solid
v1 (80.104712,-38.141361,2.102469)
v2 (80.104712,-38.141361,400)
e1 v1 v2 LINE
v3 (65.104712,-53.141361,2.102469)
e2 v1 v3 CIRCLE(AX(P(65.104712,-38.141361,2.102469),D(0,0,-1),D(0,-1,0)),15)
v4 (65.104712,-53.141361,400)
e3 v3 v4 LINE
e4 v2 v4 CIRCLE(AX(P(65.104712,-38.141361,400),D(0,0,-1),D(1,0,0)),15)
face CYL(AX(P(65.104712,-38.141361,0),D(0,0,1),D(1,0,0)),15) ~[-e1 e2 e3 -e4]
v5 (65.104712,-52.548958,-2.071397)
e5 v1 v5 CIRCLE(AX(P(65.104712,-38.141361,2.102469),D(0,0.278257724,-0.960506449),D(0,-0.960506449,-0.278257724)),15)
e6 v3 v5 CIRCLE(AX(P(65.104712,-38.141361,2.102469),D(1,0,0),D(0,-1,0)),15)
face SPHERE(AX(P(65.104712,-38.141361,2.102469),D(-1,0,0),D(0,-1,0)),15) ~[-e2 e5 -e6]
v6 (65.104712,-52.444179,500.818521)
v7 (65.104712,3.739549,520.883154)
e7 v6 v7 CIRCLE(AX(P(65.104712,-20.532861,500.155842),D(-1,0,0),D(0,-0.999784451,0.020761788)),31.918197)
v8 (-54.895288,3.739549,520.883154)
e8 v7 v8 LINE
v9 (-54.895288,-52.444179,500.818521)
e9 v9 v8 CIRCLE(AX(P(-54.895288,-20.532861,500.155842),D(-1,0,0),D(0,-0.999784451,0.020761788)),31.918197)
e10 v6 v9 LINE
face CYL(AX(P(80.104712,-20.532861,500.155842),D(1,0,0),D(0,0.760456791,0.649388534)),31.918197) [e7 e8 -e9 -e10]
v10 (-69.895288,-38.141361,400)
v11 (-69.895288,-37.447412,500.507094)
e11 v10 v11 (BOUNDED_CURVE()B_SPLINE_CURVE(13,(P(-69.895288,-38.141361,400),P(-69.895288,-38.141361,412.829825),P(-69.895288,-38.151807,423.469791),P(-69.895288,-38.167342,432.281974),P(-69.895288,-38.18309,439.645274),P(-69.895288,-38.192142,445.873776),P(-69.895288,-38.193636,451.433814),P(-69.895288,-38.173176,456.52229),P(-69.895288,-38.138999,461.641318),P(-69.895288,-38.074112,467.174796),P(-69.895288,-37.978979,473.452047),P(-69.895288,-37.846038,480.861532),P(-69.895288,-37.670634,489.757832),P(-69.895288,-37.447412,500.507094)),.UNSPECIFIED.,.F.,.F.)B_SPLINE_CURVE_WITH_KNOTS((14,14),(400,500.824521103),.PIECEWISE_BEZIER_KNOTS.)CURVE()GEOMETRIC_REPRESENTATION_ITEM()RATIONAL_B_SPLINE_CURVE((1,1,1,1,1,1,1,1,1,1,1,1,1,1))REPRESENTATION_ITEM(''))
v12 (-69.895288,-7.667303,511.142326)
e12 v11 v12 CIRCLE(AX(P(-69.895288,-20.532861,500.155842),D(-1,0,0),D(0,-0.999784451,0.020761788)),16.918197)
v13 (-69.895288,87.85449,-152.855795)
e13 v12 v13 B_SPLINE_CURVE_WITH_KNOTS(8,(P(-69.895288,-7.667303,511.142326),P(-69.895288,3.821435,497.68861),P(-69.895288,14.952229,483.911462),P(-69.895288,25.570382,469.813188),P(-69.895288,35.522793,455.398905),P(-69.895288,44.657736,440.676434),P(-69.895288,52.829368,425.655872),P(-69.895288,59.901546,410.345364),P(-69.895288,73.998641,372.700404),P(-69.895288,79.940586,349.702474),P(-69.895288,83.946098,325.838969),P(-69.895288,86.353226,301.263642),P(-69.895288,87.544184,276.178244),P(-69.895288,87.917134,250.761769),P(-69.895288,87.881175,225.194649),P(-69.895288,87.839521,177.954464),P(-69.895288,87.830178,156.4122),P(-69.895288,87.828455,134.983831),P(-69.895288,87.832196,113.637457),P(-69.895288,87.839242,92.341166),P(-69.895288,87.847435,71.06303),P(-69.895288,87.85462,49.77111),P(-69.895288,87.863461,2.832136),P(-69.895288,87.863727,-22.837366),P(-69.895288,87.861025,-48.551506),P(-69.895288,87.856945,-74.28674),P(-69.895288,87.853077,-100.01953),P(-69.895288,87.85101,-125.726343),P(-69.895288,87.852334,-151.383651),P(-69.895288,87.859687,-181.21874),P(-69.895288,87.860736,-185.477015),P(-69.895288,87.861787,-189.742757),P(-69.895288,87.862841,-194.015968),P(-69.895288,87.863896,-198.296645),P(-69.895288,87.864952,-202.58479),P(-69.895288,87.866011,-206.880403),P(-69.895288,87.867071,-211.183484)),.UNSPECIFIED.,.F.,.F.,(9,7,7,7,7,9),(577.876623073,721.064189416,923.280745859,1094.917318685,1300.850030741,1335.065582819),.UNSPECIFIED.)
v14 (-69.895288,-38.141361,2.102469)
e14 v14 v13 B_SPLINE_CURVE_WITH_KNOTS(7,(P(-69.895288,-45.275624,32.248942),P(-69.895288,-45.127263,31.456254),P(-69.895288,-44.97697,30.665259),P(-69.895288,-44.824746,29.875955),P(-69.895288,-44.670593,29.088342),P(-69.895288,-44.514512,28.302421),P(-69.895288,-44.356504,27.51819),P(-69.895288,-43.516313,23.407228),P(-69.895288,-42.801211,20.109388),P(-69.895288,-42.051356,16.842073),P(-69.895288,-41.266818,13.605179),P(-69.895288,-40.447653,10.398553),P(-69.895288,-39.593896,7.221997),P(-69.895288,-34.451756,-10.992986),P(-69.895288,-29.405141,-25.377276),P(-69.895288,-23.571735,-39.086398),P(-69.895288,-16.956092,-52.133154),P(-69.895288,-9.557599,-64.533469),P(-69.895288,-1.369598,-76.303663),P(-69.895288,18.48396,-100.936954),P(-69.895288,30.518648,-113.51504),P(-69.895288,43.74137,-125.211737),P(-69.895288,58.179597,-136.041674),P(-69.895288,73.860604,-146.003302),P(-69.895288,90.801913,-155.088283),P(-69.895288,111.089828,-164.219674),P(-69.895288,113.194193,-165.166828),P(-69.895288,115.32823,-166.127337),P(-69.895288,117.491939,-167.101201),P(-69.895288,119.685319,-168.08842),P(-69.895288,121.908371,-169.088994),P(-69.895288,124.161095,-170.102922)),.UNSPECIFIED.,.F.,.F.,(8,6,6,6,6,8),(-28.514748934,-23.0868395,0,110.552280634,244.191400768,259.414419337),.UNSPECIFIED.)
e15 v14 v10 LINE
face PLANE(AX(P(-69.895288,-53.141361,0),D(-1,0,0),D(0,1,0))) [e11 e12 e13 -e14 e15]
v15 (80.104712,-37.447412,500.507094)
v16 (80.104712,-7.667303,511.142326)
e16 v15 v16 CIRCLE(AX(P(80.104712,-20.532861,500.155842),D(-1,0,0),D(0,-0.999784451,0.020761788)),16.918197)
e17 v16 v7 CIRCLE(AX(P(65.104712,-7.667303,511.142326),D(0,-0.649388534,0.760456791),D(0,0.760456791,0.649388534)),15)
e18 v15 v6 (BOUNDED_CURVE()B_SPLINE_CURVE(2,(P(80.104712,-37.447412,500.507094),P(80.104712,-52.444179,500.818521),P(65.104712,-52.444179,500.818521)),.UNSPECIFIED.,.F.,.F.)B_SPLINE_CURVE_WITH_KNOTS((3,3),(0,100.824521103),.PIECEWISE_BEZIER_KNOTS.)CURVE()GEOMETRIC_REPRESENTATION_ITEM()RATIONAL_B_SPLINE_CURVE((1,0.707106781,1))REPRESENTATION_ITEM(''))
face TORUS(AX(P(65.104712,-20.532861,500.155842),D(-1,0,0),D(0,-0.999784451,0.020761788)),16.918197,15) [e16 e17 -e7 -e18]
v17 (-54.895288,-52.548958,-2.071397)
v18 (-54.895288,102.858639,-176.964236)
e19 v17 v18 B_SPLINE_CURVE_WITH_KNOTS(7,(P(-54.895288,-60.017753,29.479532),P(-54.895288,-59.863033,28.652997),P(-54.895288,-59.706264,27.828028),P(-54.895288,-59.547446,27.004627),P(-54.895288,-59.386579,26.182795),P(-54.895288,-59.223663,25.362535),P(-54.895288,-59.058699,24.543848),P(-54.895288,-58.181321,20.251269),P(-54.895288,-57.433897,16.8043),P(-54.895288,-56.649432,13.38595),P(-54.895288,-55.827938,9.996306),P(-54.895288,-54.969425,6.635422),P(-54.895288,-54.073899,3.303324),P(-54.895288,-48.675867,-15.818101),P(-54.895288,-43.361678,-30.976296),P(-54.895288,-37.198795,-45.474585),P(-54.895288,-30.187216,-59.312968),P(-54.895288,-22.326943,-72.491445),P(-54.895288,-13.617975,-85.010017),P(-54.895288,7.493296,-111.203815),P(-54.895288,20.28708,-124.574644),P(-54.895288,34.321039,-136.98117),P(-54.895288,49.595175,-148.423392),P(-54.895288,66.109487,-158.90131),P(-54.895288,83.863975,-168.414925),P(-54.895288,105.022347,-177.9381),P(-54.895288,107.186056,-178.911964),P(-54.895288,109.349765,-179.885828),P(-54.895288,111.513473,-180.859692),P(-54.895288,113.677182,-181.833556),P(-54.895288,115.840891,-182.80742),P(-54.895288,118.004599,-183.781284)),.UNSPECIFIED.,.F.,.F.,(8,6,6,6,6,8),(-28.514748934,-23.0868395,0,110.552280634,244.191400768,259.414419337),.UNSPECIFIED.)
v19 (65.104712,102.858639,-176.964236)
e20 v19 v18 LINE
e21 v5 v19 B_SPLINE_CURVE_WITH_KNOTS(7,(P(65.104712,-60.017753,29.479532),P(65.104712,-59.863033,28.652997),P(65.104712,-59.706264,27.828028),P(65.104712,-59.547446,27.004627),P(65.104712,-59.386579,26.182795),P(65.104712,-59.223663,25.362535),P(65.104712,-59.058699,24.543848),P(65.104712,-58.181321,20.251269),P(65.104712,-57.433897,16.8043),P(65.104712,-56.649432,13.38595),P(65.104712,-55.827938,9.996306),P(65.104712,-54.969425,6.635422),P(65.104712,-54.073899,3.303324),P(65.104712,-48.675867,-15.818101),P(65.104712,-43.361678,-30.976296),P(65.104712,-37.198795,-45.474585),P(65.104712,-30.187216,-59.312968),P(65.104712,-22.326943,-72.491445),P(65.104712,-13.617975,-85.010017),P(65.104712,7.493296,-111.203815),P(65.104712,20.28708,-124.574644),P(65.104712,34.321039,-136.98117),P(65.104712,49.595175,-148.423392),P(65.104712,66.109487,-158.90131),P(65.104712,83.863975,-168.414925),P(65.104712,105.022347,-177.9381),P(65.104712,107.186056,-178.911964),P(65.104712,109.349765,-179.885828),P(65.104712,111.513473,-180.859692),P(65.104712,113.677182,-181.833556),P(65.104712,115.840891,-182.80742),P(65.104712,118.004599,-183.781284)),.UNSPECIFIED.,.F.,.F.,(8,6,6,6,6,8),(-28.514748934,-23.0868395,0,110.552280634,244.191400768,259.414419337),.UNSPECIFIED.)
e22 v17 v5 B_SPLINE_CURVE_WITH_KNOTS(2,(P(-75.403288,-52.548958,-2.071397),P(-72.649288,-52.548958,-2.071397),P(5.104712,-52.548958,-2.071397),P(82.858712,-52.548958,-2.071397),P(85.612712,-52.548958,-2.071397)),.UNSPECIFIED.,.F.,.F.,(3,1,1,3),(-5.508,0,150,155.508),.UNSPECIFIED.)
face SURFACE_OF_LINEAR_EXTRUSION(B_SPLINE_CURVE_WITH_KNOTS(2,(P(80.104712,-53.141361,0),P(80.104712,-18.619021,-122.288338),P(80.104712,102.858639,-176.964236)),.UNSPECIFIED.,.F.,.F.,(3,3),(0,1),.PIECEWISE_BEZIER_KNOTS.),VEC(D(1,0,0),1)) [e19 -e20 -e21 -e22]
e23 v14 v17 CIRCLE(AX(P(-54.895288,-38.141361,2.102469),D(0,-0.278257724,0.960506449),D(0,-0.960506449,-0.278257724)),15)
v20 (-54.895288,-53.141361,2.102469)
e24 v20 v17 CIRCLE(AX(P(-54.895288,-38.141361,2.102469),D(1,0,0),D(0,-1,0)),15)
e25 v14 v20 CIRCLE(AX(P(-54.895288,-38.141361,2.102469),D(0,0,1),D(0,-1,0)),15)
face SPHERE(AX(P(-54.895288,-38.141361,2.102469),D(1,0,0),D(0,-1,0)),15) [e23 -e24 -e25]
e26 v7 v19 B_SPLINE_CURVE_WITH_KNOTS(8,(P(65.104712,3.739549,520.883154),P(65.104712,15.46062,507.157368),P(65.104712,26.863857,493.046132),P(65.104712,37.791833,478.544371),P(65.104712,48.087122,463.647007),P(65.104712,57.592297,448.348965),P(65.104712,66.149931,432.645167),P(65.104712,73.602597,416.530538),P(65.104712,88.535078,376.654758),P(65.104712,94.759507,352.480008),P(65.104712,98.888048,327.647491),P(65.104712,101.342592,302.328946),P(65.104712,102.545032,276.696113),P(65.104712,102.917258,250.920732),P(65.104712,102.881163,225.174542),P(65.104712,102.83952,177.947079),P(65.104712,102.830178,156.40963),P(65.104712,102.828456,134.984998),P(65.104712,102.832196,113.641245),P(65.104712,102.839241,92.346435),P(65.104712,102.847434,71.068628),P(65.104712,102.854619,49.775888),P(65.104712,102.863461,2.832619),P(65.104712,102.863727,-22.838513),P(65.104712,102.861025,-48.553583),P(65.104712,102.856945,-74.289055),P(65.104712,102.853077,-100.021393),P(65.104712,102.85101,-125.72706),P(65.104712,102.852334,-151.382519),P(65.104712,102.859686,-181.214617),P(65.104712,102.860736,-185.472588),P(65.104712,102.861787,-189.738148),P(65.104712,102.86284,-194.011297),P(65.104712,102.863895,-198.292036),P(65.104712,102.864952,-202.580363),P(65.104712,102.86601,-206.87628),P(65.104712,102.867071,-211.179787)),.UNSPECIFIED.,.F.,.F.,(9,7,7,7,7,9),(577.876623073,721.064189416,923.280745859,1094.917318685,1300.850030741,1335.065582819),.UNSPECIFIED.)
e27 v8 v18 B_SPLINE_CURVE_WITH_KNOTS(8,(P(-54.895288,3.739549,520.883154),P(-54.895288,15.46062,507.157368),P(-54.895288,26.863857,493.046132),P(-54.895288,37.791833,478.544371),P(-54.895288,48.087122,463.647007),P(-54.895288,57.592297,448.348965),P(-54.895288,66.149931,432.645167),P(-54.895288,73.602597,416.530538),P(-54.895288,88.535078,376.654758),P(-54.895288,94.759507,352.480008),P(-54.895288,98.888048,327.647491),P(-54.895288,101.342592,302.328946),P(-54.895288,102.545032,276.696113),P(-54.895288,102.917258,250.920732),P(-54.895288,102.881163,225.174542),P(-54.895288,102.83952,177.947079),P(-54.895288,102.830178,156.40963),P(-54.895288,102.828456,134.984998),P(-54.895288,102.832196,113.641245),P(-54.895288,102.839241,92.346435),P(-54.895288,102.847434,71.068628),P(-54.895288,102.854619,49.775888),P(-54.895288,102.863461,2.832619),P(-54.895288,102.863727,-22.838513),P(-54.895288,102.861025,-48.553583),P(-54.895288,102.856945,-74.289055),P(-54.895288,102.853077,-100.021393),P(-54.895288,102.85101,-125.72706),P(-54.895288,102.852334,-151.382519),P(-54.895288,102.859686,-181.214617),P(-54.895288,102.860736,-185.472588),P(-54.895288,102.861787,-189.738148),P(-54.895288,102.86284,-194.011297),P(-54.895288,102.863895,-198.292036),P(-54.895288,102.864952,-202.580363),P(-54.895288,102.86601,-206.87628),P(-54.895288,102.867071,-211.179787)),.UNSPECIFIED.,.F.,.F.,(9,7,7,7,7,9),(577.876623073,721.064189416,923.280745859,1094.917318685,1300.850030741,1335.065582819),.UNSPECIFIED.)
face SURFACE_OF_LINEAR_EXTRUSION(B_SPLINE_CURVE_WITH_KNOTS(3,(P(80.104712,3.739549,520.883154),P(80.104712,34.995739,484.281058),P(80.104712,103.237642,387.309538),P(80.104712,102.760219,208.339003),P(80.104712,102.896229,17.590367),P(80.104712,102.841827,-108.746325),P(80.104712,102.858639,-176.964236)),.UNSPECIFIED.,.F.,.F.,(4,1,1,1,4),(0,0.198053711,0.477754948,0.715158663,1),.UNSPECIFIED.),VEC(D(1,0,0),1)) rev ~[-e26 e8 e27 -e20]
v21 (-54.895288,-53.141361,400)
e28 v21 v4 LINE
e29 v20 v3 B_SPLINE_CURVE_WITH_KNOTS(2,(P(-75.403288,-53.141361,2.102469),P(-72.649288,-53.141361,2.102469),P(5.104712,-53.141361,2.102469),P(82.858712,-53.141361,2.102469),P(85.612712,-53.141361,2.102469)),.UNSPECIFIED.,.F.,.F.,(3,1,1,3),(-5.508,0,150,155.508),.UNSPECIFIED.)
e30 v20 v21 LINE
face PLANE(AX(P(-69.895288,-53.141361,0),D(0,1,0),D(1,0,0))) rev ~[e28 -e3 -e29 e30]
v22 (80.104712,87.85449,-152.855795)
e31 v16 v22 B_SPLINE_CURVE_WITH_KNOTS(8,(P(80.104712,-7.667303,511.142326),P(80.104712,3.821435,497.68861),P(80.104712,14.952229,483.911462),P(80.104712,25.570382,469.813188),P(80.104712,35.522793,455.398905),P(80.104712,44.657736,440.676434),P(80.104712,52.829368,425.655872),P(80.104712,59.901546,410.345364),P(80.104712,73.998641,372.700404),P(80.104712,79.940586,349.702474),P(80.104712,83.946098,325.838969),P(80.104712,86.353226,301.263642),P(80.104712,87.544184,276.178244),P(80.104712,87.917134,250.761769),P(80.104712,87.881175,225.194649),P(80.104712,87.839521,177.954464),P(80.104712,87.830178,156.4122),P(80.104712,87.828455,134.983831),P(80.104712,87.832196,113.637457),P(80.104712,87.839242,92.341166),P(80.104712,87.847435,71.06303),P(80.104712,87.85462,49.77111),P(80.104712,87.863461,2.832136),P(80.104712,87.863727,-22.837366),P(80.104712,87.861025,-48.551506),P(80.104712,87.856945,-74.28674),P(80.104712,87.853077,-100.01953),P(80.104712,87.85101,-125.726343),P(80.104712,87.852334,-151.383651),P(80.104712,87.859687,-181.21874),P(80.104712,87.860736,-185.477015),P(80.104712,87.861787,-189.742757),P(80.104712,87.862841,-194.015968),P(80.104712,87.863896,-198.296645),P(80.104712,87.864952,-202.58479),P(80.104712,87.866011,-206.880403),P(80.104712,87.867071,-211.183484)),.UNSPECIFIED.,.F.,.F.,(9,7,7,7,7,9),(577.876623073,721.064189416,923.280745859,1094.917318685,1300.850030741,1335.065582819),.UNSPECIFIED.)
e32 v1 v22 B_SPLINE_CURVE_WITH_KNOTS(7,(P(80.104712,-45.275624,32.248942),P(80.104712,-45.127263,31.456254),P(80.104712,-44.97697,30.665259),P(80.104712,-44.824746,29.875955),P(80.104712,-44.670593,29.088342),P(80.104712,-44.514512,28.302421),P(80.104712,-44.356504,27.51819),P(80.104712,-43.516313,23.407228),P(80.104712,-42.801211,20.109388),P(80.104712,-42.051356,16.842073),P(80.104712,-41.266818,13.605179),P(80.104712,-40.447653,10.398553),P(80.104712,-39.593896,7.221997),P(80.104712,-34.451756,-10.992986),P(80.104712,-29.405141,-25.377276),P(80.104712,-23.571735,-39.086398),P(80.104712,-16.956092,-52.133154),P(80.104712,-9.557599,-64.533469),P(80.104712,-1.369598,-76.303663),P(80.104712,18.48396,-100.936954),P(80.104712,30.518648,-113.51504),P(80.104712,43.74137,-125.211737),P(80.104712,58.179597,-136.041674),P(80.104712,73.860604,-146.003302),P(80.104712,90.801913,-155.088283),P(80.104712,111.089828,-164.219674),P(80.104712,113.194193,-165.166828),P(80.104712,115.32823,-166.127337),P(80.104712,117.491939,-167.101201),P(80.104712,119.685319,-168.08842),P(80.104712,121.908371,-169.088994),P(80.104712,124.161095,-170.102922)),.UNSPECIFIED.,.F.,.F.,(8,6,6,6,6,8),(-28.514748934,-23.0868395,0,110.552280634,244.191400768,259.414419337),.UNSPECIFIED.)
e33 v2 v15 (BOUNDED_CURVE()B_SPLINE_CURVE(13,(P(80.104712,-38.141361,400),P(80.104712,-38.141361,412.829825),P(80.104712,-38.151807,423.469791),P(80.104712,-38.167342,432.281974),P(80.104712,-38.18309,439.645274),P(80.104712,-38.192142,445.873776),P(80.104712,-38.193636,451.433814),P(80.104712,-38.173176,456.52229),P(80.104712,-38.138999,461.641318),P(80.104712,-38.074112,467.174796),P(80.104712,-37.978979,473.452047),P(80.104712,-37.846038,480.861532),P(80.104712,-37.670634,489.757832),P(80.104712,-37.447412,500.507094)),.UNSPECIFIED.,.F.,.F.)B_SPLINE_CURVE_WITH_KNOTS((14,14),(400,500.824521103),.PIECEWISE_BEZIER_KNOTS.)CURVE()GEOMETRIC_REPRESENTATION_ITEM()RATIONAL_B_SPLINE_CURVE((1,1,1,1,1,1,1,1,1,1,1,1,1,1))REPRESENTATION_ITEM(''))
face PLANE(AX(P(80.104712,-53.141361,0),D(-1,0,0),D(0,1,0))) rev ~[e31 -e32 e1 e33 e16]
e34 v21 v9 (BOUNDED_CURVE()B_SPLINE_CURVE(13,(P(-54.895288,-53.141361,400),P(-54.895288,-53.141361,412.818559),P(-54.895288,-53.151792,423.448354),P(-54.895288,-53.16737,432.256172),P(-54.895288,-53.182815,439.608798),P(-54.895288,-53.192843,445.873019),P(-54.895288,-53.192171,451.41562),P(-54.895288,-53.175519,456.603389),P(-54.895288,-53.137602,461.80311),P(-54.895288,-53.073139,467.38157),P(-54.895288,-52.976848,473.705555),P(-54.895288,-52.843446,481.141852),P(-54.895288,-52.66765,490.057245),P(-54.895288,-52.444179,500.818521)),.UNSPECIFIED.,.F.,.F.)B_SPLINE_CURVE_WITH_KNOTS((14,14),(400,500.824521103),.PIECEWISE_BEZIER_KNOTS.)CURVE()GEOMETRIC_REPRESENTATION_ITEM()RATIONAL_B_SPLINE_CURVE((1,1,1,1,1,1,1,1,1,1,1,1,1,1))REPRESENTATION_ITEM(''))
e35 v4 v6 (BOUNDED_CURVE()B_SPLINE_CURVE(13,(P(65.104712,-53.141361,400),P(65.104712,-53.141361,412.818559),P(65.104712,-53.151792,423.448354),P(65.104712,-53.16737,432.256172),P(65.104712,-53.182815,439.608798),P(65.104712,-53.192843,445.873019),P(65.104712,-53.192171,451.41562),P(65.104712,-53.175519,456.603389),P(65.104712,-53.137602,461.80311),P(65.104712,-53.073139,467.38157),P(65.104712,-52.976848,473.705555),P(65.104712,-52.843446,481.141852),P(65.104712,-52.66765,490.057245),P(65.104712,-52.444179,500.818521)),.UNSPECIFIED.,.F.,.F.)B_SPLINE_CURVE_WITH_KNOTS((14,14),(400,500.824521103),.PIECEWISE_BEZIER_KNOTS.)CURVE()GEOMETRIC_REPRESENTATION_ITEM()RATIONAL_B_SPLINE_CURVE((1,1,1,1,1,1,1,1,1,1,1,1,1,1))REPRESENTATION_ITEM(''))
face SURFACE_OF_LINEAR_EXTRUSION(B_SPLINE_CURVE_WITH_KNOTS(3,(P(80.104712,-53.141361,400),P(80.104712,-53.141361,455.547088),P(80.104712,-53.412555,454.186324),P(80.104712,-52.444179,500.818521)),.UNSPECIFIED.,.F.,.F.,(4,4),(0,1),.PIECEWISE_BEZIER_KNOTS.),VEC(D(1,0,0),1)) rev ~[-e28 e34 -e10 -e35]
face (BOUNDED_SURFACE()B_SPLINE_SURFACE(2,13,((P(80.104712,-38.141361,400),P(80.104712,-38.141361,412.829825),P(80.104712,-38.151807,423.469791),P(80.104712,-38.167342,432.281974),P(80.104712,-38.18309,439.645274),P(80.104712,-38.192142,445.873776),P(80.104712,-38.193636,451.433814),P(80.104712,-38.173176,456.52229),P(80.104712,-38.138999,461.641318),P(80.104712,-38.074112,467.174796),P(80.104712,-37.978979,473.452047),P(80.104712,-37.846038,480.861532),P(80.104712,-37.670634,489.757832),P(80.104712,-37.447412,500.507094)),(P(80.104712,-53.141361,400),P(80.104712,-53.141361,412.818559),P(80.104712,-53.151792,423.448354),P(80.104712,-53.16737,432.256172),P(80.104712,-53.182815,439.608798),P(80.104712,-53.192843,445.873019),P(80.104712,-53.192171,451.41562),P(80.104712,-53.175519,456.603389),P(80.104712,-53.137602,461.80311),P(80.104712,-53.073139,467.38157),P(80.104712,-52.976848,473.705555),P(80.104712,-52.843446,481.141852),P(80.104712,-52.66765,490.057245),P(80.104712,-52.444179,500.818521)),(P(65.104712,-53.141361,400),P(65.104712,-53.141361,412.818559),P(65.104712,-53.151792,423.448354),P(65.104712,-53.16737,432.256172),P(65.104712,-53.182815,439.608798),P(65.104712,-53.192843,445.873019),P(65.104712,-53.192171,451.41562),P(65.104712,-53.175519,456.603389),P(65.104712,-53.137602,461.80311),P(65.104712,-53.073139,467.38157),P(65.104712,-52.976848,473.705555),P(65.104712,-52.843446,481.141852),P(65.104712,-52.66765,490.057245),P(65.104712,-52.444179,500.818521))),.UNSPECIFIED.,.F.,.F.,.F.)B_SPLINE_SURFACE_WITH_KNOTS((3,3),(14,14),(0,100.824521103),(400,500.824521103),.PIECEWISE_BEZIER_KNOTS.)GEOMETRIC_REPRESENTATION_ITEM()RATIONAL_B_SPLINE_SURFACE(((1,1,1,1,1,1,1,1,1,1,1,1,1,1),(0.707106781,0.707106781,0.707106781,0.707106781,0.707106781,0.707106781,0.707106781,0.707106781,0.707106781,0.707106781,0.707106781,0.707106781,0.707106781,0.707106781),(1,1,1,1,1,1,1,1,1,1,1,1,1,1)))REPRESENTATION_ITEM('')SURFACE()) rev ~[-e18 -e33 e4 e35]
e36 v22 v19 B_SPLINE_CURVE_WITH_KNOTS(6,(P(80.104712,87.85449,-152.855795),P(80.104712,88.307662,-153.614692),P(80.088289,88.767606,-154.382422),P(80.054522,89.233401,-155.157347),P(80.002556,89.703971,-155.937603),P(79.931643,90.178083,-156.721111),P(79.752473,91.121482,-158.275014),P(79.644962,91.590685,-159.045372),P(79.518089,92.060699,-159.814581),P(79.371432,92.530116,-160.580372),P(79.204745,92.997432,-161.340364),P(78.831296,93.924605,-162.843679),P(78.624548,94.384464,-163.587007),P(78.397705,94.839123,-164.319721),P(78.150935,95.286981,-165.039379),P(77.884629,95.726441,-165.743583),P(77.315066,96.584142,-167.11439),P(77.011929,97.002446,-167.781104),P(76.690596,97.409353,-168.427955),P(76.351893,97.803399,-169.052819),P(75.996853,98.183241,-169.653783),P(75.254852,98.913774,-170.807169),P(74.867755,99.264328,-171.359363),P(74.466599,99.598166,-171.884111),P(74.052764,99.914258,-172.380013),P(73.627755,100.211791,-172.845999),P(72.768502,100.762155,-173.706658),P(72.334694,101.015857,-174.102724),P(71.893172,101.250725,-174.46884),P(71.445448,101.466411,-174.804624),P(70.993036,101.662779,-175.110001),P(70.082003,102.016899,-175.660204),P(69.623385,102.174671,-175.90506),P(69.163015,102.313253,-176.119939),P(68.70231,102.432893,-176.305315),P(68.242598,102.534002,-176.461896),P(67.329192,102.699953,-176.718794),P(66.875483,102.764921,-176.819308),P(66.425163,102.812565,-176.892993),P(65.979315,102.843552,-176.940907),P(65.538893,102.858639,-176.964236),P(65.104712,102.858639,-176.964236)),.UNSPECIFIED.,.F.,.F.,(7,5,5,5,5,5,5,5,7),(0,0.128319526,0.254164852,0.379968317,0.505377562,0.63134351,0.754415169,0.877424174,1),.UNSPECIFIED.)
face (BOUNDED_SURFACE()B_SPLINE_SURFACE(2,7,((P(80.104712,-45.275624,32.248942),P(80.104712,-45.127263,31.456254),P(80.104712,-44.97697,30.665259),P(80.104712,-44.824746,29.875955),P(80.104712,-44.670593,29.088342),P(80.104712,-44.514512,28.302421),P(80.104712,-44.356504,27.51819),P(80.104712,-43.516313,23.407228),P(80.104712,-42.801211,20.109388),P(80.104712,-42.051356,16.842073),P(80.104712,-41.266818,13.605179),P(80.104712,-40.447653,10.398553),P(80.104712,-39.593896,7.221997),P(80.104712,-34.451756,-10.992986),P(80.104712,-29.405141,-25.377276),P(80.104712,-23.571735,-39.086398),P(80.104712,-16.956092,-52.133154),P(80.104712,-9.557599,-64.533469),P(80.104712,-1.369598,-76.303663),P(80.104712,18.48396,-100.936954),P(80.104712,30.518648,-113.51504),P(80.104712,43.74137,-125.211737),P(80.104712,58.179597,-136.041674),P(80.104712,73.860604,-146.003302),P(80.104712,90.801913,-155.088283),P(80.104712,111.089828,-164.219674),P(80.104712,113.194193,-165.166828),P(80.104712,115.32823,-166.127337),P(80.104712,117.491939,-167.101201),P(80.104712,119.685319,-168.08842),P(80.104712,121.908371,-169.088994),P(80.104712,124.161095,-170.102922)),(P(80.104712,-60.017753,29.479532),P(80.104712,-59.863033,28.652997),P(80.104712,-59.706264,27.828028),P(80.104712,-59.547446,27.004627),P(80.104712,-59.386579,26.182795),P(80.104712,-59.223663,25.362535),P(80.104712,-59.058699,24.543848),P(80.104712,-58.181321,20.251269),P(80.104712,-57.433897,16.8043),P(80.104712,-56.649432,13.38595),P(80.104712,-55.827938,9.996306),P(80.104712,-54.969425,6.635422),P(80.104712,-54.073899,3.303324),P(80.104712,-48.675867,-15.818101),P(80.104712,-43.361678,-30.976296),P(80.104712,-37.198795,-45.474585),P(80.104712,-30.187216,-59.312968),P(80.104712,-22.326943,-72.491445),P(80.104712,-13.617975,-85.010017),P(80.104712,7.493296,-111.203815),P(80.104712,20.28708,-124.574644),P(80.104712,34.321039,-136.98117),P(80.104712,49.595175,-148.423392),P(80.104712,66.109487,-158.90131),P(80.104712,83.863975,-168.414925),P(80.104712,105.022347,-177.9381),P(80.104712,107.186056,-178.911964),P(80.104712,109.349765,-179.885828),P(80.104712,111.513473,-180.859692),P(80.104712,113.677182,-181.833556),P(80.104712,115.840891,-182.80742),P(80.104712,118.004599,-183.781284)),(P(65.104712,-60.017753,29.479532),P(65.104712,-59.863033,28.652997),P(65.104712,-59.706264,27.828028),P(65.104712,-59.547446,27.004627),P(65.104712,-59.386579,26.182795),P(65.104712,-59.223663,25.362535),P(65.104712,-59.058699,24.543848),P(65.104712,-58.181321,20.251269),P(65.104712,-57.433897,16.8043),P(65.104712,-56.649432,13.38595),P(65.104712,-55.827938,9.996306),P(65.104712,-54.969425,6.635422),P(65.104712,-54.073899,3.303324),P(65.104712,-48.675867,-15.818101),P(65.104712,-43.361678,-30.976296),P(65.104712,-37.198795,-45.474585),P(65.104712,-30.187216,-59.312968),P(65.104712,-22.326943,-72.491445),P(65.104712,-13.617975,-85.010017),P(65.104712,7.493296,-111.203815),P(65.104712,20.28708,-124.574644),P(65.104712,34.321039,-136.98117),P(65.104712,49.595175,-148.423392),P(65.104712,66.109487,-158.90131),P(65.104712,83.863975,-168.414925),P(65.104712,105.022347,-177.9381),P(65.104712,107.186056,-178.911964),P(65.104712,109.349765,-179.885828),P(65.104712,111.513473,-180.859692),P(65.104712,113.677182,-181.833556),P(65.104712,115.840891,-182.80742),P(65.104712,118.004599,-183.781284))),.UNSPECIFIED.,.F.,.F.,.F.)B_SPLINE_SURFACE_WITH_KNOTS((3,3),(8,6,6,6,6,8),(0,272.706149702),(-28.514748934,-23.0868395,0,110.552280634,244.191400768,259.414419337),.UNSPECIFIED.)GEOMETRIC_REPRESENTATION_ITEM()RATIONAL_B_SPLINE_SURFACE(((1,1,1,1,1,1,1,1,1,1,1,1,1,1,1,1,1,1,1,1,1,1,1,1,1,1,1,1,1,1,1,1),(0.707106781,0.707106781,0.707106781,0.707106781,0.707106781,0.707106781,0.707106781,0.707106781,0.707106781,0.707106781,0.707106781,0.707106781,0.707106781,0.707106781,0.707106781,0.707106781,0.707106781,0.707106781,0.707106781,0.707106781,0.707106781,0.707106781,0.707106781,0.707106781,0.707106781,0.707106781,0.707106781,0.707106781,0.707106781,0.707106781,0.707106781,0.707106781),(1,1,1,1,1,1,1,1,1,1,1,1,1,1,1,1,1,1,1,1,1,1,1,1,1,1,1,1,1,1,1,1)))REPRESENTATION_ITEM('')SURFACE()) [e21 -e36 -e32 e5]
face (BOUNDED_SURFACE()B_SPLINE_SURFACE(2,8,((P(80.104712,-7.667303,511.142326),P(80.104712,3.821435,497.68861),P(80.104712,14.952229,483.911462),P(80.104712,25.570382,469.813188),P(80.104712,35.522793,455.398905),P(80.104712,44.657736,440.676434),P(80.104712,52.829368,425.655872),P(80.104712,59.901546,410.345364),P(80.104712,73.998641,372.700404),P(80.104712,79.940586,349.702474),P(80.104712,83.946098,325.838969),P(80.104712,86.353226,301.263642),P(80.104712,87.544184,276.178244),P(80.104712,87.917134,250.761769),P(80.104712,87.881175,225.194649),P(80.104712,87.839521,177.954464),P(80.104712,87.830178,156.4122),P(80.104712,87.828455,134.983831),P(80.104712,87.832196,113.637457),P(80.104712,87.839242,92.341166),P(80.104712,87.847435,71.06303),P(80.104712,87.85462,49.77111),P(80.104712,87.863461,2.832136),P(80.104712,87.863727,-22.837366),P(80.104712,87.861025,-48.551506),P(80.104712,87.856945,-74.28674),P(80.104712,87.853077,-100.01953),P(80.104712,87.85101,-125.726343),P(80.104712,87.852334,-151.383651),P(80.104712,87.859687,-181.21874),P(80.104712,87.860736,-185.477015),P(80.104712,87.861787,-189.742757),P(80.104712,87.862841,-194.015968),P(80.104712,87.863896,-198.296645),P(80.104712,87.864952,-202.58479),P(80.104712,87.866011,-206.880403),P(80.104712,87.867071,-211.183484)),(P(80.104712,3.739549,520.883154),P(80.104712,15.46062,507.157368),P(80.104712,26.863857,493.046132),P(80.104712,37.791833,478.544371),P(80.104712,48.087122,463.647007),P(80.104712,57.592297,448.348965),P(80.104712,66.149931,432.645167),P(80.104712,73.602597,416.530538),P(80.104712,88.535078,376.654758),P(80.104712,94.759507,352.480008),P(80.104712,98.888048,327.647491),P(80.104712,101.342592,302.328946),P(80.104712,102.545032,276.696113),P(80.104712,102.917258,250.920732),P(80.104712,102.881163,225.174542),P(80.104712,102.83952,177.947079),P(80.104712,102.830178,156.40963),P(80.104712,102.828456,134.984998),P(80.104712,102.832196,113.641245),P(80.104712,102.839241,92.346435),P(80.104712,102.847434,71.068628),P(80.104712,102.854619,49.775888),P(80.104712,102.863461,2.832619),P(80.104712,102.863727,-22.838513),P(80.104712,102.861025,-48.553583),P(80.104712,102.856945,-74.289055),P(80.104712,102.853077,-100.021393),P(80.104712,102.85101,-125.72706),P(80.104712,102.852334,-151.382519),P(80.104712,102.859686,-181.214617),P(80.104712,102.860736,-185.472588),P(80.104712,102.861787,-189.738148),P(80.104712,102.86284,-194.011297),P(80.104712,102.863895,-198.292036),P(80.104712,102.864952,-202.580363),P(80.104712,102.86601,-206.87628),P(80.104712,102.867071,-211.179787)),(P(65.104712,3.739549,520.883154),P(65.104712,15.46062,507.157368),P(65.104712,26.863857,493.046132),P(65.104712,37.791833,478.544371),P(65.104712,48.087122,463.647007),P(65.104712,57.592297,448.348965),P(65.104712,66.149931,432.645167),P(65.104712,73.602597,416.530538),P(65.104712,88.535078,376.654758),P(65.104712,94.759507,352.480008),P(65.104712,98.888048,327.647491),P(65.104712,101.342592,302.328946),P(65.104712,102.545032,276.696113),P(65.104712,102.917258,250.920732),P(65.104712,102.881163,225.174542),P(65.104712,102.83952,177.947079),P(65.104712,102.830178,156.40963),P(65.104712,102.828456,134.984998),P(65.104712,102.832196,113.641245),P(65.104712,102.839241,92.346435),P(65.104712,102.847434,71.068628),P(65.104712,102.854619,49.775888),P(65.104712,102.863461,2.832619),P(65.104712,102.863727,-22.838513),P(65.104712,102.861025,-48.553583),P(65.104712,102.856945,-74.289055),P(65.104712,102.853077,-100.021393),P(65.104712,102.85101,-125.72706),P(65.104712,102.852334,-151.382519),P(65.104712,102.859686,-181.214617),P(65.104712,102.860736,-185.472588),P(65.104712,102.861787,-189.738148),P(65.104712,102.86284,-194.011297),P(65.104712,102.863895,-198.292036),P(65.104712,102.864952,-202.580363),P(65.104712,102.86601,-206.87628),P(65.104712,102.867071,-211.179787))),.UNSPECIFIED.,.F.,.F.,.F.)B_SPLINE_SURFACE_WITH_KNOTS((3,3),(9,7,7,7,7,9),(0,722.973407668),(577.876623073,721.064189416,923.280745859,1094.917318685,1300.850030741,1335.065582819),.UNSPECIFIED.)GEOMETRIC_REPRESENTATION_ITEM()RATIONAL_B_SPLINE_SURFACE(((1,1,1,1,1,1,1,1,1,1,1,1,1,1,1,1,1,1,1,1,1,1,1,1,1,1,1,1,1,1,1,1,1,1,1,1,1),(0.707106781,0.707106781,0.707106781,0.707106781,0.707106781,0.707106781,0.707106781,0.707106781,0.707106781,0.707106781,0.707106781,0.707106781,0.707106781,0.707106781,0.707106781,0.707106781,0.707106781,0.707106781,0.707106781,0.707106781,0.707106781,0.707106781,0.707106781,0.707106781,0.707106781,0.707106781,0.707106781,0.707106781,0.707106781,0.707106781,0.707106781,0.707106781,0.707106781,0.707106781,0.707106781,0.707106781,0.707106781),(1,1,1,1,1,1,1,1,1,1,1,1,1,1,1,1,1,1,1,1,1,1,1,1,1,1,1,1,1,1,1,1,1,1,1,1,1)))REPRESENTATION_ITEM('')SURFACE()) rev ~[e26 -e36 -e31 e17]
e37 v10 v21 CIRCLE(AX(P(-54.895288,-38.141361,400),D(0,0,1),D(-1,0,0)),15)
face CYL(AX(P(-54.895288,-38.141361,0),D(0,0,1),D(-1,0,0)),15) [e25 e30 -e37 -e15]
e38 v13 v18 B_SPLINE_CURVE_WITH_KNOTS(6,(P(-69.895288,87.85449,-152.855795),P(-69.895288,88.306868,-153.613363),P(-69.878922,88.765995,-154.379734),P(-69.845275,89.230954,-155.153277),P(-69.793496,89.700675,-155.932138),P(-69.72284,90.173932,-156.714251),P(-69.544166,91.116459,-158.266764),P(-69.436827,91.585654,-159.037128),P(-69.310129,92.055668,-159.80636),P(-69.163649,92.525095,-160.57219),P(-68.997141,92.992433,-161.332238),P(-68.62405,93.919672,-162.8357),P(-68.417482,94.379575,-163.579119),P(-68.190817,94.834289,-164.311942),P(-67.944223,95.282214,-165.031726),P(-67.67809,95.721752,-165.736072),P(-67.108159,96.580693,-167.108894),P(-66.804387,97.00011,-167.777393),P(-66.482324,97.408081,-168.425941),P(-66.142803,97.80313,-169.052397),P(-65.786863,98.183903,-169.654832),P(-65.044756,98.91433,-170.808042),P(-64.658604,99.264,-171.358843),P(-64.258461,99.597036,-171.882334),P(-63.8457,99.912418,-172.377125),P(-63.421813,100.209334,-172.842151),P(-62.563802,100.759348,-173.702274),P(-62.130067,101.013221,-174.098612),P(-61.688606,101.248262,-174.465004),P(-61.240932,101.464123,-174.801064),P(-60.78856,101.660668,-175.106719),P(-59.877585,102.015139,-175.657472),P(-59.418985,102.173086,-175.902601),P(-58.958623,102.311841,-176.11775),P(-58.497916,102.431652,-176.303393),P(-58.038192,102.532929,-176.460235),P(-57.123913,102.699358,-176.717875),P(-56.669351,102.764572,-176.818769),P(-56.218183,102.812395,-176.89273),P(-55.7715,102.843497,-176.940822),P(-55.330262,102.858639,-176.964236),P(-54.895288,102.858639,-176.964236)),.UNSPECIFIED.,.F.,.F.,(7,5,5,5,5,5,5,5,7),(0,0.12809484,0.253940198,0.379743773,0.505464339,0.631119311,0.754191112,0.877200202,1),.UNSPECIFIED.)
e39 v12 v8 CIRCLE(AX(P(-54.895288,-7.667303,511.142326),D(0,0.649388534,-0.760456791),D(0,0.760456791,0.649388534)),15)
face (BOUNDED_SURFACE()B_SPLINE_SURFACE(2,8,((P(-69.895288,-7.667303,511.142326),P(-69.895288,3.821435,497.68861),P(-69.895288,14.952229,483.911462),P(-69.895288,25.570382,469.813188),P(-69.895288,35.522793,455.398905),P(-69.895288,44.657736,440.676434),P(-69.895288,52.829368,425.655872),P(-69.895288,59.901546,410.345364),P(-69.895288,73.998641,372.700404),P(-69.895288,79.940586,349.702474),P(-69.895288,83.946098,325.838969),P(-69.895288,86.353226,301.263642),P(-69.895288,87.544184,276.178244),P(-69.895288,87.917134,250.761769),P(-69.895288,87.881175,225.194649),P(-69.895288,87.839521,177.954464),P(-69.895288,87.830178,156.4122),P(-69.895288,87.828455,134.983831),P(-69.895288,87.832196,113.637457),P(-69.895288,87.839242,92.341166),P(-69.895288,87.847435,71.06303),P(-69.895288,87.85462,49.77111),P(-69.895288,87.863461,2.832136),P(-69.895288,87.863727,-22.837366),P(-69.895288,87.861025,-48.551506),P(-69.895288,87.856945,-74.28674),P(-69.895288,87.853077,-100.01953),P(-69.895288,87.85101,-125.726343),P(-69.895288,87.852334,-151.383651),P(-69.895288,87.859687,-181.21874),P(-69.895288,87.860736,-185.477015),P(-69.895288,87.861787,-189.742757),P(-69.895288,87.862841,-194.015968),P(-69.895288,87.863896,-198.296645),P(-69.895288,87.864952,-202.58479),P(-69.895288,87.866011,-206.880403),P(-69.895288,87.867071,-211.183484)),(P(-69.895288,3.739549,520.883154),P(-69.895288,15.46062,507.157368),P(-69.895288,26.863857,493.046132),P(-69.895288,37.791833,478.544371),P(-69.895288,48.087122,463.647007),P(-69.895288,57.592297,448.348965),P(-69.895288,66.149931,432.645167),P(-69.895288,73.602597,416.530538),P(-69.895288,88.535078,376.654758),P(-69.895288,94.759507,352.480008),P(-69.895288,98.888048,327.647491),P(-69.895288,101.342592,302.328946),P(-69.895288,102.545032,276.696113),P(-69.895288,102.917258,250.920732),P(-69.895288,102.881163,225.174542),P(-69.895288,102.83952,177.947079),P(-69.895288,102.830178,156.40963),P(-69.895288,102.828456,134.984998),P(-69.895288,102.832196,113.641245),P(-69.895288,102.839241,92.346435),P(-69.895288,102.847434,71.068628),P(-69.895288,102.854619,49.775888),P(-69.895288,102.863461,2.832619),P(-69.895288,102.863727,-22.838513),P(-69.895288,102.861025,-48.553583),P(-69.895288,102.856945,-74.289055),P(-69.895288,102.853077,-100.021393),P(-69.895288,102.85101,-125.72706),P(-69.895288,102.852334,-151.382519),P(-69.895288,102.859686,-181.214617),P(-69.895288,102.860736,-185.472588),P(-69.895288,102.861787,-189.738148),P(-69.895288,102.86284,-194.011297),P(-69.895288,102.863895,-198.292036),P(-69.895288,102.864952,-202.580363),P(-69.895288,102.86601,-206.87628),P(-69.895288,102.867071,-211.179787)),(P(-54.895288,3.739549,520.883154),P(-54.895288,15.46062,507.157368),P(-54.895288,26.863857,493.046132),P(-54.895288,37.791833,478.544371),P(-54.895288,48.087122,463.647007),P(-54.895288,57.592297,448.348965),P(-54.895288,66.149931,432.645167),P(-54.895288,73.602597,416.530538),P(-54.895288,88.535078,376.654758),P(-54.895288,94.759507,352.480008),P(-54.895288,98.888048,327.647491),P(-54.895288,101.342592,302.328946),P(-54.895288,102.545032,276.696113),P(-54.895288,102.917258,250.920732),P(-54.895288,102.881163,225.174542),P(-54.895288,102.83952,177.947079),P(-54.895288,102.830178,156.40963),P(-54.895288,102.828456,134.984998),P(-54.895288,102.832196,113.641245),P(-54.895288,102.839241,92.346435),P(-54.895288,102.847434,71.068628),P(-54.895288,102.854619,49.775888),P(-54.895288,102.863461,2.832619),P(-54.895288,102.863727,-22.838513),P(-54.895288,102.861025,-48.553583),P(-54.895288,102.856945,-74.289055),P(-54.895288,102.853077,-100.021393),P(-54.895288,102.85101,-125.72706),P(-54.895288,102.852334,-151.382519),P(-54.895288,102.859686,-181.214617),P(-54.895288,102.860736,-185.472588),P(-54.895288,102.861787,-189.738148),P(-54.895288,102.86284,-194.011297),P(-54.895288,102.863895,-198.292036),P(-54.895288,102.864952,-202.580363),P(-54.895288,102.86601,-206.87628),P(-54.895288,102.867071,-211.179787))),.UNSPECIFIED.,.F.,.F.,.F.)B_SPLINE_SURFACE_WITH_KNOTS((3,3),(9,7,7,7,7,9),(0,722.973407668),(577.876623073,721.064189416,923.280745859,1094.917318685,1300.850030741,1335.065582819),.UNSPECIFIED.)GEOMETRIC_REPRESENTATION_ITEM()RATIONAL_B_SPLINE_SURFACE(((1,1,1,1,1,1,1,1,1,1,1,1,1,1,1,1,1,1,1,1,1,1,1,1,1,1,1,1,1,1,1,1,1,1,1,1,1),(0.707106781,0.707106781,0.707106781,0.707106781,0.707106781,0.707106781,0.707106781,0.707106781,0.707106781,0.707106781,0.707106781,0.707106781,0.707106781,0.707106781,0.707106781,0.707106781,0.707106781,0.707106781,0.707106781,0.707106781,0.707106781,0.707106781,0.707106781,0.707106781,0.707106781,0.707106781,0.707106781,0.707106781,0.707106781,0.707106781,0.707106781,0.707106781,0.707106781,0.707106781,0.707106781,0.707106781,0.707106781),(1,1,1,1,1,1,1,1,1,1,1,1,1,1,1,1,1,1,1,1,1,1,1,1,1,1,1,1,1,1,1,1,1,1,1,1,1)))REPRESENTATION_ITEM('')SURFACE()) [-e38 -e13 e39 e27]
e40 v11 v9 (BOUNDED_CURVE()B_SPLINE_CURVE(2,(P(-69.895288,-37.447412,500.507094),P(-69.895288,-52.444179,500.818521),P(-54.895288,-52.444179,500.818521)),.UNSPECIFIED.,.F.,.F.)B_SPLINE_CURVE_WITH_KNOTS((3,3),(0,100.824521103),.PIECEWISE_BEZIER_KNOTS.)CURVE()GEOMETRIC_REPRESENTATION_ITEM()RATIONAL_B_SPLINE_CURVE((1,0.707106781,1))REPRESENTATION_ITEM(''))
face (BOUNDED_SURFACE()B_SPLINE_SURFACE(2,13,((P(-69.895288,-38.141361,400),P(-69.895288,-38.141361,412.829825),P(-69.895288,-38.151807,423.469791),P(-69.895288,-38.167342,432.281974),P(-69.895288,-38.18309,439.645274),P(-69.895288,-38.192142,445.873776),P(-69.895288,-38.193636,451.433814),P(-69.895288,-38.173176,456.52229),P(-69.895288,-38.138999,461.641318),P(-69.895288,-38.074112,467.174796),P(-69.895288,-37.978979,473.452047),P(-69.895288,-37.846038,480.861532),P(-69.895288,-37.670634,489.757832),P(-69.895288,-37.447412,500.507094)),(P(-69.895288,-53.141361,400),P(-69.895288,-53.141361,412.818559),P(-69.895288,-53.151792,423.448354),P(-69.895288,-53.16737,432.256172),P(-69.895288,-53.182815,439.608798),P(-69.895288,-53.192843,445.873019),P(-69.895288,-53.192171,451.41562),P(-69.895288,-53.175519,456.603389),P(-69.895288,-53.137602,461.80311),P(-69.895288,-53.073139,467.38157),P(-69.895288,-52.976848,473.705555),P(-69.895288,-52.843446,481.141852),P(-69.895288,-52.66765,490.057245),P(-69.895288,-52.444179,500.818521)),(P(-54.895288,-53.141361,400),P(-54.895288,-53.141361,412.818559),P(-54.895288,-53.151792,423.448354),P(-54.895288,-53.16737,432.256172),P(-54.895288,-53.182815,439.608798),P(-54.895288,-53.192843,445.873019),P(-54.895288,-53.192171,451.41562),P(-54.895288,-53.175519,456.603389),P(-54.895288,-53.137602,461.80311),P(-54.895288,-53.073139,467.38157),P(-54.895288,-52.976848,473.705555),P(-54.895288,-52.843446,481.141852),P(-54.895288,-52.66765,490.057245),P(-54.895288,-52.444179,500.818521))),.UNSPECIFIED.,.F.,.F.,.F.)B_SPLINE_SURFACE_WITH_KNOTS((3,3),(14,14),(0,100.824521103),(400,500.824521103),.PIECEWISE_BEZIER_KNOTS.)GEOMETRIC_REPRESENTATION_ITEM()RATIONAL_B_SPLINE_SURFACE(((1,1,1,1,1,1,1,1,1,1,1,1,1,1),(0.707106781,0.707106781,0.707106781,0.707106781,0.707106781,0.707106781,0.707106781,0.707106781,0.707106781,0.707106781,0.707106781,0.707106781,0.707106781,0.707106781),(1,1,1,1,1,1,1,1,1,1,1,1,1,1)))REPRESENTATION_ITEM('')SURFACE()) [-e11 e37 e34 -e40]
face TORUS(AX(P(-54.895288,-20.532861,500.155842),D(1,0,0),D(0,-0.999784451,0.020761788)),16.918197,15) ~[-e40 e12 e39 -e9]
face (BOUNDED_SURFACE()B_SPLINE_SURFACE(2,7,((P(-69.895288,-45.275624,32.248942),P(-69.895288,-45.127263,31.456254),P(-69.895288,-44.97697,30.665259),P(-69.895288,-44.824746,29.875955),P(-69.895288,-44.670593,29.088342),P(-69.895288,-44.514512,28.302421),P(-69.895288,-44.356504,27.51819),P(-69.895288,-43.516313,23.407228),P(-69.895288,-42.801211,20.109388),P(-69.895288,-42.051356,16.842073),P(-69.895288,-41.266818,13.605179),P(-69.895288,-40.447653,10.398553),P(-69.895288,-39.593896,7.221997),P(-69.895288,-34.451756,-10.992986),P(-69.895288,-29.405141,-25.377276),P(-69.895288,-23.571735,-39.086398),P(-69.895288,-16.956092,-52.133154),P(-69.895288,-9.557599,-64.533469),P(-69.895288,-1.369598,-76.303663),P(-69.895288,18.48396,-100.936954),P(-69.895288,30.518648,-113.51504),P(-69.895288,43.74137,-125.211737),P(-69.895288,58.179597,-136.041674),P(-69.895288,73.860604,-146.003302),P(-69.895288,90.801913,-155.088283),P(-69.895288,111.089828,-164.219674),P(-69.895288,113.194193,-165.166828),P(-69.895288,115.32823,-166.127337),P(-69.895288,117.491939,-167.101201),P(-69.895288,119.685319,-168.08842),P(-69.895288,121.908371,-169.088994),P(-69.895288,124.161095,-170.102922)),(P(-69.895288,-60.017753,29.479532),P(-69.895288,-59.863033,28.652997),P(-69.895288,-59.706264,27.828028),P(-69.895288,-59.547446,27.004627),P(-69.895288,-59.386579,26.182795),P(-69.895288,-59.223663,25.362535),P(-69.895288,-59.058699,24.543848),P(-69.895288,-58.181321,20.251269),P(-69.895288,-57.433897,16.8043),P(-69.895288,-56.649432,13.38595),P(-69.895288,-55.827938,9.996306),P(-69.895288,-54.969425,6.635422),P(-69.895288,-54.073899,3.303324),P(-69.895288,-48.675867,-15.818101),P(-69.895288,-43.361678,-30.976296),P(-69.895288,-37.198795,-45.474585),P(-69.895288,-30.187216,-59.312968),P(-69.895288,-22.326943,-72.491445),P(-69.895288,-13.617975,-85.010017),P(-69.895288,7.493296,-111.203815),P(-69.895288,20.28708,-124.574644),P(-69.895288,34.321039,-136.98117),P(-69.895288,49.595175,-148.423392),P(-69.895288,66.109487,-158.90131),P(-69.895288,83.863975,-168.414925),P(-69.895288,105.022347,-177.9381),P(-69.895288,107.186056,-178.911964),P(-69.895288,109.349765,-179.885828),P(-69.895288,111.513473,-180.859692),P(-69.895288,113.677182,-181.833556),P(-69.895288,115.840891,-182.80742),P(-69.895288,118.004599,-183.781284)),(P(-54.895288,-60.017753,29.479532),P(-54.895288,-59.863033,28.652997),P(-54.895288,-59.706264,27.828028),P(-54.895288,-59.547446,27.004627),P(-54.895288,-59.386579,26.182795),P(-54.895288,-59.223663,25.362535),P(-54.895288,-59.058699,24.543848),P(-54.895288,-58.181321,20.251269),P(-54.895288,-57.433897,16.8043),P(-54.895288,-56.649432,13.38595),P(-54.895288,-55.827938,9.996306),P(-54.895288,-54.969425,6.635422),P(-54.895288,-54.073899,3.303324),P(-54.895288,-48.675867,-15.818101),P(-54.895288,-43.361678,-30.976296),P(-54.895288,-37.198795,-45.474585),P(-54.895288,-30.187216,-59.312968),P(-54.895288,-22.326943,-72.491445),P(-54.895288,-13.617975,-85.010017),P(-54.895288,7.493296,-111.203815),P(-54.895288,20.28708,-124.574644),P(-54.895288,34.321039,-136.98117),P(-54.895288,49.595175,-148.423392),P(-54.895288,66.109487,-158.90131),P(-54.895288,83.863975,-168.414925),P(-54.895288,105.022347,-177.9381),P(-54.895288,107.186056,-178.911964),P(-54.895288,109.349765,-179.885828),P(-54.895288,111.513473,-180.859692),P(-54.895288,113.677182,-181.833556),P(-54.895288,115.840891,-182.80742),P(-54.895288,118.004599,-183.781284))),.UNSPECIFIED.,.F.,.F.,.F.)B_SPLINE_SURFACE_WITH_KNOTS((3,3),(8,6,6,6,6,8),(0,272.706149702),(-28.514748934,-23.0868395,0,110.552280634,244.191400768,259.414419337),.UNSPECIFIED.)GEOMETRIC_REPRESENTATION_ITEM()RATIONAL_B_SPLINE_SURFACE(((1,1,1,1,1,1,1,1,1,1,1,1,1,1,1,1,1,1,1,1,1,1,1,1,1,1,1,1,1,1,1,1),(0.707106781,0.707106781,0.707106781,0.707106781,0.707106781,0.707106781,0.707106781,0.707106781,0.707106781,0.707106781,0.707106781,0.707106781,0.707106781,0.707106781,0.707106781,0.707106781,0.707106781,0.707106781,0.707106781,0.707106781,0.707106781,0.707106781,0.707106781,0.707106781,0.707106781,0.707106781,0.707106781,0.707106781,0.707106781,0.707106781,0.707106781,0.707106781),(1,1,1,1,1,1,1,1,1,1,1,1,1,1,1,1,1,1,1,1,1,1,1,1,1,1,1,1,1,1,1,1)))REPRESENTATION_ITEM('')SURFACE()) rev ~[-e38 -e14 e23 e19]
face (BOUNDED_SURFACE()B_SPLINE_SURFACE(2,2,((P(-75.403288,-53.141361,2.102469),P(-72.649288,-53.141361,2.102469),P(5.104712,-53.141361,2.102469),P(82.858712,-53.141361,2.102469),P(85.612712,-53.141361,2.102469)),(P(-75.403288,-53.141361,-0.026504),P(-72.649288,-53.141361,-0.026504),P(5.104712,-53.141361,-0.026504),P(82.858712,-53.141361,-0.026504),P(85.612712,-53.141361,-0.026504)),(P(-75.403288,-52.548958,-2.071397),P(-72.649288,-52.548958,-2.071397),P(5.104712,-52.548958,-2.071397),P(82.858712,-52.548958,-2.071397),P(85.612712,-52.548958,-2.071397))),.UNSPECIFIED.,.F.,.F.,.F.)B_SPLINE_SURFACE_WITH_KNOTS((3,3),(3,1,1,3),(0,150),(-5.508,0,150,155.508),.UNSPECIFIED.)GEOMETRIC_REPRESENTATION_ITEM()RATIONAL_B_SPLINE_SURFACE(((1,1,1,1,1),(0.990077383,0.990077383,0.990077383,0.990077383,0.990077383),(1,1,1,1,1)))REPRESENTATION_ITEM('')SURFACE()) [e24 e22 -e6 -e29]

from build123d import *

# Parameters (mm, degrees)
SKETCH1_W           = 150
SKETCH1_H           = 125
BOSS_EXTRUDE1_DEPTH = 400
BOSS_EXTRUDE2_DEPTH = 150
FILLET1_R           = 15


with BuildPart() as part:
    # Sketch1 → Boss-Extrude1 (new body)
    with BuildSketch(Plane.XY):
        with Locations((5.104712042, 9.358638743)):
            Rectangle(SKETCH1_W, SKETCH1_H)
    extrude(amount=BOSS_EXTRUDE1_DEPTH)

    # Sketch2 → Boss-Extrude2 (add)
    with BuildSketch(Plane(origin=(80.104712042, 0, 0), x_dir=(0, 0, -1), z_dir=(1, 0, 0))):
        with BuildLine():
            Line((-400, -53.141361257), (0, -53.141361257))
            add(Edge.make_bspline(
                [(0, -53.141361257), (122.288338017, -18.619021444), (176.964235869, 102.858638743)],
                knots=[0, 0, 0, 1, 1, 1], degree=2))
            add(Edge.make_bspline(
                [(-520.88315384, 3.739549054), (-484.281057652, 34.995738584), (-387.309538261, 103.237642061), (-208.339003063, 102.760219206), (-17.590366689, 102.896229397), (108.746325141, 102.841826935), (176.964235869, 102.858638743)],
                knots=[0, 0, 0, 0, 0.198053711, 0.477754948, 0.715158663, 1, 1, 1, 1], degree=3))
            ThreePointArc((-520.88315384, 3.739549054), (-530.214713472, -31.267645456), (-500.818521198, -52.444178516))
            add(Edge.make_bspline(
                [(-400, -53.141361257), (-455.547087642, -53.141361257), (-454.186323559, -53.41255503), (-500.818521198, -52.444178516)],
                knots=[0, 0, 0, 0, 1, 1, 1, 1], degree=3))
        make_face()
    extrude(amount=-BOSS_EXTRUDE2_DEPTH)

    # Fillet1
    fillet1_edges = [part.edges().sort_by_distance(p)[0] for p in [
        (80.104712042, -53.167345947, 450.412235369),
        (80.104712042, 4.189858022, -106.59131419),
        (80.104712042, 102.847296332, 184.522460856),
        (80.104712042, -31.267645456, 530.214713472),
        (-69.895287958, -53.167345947, 450.412235369),
        (-69.895287958, -31.267645456, 530.214713472),
        (-69.895287958, 102.847296332, 184.522460856),
        (-69.895287958, 4.189858022, -106.59131419),
        (5.104712042, -53.141361257, 0),
        (80.104712042, -53.141361257, 200),
        (-69.895287958, -53.141361257, 200),
    ]]
    fillet(fillet1_edges, radius=FILLET1_R)


solid = part.part
